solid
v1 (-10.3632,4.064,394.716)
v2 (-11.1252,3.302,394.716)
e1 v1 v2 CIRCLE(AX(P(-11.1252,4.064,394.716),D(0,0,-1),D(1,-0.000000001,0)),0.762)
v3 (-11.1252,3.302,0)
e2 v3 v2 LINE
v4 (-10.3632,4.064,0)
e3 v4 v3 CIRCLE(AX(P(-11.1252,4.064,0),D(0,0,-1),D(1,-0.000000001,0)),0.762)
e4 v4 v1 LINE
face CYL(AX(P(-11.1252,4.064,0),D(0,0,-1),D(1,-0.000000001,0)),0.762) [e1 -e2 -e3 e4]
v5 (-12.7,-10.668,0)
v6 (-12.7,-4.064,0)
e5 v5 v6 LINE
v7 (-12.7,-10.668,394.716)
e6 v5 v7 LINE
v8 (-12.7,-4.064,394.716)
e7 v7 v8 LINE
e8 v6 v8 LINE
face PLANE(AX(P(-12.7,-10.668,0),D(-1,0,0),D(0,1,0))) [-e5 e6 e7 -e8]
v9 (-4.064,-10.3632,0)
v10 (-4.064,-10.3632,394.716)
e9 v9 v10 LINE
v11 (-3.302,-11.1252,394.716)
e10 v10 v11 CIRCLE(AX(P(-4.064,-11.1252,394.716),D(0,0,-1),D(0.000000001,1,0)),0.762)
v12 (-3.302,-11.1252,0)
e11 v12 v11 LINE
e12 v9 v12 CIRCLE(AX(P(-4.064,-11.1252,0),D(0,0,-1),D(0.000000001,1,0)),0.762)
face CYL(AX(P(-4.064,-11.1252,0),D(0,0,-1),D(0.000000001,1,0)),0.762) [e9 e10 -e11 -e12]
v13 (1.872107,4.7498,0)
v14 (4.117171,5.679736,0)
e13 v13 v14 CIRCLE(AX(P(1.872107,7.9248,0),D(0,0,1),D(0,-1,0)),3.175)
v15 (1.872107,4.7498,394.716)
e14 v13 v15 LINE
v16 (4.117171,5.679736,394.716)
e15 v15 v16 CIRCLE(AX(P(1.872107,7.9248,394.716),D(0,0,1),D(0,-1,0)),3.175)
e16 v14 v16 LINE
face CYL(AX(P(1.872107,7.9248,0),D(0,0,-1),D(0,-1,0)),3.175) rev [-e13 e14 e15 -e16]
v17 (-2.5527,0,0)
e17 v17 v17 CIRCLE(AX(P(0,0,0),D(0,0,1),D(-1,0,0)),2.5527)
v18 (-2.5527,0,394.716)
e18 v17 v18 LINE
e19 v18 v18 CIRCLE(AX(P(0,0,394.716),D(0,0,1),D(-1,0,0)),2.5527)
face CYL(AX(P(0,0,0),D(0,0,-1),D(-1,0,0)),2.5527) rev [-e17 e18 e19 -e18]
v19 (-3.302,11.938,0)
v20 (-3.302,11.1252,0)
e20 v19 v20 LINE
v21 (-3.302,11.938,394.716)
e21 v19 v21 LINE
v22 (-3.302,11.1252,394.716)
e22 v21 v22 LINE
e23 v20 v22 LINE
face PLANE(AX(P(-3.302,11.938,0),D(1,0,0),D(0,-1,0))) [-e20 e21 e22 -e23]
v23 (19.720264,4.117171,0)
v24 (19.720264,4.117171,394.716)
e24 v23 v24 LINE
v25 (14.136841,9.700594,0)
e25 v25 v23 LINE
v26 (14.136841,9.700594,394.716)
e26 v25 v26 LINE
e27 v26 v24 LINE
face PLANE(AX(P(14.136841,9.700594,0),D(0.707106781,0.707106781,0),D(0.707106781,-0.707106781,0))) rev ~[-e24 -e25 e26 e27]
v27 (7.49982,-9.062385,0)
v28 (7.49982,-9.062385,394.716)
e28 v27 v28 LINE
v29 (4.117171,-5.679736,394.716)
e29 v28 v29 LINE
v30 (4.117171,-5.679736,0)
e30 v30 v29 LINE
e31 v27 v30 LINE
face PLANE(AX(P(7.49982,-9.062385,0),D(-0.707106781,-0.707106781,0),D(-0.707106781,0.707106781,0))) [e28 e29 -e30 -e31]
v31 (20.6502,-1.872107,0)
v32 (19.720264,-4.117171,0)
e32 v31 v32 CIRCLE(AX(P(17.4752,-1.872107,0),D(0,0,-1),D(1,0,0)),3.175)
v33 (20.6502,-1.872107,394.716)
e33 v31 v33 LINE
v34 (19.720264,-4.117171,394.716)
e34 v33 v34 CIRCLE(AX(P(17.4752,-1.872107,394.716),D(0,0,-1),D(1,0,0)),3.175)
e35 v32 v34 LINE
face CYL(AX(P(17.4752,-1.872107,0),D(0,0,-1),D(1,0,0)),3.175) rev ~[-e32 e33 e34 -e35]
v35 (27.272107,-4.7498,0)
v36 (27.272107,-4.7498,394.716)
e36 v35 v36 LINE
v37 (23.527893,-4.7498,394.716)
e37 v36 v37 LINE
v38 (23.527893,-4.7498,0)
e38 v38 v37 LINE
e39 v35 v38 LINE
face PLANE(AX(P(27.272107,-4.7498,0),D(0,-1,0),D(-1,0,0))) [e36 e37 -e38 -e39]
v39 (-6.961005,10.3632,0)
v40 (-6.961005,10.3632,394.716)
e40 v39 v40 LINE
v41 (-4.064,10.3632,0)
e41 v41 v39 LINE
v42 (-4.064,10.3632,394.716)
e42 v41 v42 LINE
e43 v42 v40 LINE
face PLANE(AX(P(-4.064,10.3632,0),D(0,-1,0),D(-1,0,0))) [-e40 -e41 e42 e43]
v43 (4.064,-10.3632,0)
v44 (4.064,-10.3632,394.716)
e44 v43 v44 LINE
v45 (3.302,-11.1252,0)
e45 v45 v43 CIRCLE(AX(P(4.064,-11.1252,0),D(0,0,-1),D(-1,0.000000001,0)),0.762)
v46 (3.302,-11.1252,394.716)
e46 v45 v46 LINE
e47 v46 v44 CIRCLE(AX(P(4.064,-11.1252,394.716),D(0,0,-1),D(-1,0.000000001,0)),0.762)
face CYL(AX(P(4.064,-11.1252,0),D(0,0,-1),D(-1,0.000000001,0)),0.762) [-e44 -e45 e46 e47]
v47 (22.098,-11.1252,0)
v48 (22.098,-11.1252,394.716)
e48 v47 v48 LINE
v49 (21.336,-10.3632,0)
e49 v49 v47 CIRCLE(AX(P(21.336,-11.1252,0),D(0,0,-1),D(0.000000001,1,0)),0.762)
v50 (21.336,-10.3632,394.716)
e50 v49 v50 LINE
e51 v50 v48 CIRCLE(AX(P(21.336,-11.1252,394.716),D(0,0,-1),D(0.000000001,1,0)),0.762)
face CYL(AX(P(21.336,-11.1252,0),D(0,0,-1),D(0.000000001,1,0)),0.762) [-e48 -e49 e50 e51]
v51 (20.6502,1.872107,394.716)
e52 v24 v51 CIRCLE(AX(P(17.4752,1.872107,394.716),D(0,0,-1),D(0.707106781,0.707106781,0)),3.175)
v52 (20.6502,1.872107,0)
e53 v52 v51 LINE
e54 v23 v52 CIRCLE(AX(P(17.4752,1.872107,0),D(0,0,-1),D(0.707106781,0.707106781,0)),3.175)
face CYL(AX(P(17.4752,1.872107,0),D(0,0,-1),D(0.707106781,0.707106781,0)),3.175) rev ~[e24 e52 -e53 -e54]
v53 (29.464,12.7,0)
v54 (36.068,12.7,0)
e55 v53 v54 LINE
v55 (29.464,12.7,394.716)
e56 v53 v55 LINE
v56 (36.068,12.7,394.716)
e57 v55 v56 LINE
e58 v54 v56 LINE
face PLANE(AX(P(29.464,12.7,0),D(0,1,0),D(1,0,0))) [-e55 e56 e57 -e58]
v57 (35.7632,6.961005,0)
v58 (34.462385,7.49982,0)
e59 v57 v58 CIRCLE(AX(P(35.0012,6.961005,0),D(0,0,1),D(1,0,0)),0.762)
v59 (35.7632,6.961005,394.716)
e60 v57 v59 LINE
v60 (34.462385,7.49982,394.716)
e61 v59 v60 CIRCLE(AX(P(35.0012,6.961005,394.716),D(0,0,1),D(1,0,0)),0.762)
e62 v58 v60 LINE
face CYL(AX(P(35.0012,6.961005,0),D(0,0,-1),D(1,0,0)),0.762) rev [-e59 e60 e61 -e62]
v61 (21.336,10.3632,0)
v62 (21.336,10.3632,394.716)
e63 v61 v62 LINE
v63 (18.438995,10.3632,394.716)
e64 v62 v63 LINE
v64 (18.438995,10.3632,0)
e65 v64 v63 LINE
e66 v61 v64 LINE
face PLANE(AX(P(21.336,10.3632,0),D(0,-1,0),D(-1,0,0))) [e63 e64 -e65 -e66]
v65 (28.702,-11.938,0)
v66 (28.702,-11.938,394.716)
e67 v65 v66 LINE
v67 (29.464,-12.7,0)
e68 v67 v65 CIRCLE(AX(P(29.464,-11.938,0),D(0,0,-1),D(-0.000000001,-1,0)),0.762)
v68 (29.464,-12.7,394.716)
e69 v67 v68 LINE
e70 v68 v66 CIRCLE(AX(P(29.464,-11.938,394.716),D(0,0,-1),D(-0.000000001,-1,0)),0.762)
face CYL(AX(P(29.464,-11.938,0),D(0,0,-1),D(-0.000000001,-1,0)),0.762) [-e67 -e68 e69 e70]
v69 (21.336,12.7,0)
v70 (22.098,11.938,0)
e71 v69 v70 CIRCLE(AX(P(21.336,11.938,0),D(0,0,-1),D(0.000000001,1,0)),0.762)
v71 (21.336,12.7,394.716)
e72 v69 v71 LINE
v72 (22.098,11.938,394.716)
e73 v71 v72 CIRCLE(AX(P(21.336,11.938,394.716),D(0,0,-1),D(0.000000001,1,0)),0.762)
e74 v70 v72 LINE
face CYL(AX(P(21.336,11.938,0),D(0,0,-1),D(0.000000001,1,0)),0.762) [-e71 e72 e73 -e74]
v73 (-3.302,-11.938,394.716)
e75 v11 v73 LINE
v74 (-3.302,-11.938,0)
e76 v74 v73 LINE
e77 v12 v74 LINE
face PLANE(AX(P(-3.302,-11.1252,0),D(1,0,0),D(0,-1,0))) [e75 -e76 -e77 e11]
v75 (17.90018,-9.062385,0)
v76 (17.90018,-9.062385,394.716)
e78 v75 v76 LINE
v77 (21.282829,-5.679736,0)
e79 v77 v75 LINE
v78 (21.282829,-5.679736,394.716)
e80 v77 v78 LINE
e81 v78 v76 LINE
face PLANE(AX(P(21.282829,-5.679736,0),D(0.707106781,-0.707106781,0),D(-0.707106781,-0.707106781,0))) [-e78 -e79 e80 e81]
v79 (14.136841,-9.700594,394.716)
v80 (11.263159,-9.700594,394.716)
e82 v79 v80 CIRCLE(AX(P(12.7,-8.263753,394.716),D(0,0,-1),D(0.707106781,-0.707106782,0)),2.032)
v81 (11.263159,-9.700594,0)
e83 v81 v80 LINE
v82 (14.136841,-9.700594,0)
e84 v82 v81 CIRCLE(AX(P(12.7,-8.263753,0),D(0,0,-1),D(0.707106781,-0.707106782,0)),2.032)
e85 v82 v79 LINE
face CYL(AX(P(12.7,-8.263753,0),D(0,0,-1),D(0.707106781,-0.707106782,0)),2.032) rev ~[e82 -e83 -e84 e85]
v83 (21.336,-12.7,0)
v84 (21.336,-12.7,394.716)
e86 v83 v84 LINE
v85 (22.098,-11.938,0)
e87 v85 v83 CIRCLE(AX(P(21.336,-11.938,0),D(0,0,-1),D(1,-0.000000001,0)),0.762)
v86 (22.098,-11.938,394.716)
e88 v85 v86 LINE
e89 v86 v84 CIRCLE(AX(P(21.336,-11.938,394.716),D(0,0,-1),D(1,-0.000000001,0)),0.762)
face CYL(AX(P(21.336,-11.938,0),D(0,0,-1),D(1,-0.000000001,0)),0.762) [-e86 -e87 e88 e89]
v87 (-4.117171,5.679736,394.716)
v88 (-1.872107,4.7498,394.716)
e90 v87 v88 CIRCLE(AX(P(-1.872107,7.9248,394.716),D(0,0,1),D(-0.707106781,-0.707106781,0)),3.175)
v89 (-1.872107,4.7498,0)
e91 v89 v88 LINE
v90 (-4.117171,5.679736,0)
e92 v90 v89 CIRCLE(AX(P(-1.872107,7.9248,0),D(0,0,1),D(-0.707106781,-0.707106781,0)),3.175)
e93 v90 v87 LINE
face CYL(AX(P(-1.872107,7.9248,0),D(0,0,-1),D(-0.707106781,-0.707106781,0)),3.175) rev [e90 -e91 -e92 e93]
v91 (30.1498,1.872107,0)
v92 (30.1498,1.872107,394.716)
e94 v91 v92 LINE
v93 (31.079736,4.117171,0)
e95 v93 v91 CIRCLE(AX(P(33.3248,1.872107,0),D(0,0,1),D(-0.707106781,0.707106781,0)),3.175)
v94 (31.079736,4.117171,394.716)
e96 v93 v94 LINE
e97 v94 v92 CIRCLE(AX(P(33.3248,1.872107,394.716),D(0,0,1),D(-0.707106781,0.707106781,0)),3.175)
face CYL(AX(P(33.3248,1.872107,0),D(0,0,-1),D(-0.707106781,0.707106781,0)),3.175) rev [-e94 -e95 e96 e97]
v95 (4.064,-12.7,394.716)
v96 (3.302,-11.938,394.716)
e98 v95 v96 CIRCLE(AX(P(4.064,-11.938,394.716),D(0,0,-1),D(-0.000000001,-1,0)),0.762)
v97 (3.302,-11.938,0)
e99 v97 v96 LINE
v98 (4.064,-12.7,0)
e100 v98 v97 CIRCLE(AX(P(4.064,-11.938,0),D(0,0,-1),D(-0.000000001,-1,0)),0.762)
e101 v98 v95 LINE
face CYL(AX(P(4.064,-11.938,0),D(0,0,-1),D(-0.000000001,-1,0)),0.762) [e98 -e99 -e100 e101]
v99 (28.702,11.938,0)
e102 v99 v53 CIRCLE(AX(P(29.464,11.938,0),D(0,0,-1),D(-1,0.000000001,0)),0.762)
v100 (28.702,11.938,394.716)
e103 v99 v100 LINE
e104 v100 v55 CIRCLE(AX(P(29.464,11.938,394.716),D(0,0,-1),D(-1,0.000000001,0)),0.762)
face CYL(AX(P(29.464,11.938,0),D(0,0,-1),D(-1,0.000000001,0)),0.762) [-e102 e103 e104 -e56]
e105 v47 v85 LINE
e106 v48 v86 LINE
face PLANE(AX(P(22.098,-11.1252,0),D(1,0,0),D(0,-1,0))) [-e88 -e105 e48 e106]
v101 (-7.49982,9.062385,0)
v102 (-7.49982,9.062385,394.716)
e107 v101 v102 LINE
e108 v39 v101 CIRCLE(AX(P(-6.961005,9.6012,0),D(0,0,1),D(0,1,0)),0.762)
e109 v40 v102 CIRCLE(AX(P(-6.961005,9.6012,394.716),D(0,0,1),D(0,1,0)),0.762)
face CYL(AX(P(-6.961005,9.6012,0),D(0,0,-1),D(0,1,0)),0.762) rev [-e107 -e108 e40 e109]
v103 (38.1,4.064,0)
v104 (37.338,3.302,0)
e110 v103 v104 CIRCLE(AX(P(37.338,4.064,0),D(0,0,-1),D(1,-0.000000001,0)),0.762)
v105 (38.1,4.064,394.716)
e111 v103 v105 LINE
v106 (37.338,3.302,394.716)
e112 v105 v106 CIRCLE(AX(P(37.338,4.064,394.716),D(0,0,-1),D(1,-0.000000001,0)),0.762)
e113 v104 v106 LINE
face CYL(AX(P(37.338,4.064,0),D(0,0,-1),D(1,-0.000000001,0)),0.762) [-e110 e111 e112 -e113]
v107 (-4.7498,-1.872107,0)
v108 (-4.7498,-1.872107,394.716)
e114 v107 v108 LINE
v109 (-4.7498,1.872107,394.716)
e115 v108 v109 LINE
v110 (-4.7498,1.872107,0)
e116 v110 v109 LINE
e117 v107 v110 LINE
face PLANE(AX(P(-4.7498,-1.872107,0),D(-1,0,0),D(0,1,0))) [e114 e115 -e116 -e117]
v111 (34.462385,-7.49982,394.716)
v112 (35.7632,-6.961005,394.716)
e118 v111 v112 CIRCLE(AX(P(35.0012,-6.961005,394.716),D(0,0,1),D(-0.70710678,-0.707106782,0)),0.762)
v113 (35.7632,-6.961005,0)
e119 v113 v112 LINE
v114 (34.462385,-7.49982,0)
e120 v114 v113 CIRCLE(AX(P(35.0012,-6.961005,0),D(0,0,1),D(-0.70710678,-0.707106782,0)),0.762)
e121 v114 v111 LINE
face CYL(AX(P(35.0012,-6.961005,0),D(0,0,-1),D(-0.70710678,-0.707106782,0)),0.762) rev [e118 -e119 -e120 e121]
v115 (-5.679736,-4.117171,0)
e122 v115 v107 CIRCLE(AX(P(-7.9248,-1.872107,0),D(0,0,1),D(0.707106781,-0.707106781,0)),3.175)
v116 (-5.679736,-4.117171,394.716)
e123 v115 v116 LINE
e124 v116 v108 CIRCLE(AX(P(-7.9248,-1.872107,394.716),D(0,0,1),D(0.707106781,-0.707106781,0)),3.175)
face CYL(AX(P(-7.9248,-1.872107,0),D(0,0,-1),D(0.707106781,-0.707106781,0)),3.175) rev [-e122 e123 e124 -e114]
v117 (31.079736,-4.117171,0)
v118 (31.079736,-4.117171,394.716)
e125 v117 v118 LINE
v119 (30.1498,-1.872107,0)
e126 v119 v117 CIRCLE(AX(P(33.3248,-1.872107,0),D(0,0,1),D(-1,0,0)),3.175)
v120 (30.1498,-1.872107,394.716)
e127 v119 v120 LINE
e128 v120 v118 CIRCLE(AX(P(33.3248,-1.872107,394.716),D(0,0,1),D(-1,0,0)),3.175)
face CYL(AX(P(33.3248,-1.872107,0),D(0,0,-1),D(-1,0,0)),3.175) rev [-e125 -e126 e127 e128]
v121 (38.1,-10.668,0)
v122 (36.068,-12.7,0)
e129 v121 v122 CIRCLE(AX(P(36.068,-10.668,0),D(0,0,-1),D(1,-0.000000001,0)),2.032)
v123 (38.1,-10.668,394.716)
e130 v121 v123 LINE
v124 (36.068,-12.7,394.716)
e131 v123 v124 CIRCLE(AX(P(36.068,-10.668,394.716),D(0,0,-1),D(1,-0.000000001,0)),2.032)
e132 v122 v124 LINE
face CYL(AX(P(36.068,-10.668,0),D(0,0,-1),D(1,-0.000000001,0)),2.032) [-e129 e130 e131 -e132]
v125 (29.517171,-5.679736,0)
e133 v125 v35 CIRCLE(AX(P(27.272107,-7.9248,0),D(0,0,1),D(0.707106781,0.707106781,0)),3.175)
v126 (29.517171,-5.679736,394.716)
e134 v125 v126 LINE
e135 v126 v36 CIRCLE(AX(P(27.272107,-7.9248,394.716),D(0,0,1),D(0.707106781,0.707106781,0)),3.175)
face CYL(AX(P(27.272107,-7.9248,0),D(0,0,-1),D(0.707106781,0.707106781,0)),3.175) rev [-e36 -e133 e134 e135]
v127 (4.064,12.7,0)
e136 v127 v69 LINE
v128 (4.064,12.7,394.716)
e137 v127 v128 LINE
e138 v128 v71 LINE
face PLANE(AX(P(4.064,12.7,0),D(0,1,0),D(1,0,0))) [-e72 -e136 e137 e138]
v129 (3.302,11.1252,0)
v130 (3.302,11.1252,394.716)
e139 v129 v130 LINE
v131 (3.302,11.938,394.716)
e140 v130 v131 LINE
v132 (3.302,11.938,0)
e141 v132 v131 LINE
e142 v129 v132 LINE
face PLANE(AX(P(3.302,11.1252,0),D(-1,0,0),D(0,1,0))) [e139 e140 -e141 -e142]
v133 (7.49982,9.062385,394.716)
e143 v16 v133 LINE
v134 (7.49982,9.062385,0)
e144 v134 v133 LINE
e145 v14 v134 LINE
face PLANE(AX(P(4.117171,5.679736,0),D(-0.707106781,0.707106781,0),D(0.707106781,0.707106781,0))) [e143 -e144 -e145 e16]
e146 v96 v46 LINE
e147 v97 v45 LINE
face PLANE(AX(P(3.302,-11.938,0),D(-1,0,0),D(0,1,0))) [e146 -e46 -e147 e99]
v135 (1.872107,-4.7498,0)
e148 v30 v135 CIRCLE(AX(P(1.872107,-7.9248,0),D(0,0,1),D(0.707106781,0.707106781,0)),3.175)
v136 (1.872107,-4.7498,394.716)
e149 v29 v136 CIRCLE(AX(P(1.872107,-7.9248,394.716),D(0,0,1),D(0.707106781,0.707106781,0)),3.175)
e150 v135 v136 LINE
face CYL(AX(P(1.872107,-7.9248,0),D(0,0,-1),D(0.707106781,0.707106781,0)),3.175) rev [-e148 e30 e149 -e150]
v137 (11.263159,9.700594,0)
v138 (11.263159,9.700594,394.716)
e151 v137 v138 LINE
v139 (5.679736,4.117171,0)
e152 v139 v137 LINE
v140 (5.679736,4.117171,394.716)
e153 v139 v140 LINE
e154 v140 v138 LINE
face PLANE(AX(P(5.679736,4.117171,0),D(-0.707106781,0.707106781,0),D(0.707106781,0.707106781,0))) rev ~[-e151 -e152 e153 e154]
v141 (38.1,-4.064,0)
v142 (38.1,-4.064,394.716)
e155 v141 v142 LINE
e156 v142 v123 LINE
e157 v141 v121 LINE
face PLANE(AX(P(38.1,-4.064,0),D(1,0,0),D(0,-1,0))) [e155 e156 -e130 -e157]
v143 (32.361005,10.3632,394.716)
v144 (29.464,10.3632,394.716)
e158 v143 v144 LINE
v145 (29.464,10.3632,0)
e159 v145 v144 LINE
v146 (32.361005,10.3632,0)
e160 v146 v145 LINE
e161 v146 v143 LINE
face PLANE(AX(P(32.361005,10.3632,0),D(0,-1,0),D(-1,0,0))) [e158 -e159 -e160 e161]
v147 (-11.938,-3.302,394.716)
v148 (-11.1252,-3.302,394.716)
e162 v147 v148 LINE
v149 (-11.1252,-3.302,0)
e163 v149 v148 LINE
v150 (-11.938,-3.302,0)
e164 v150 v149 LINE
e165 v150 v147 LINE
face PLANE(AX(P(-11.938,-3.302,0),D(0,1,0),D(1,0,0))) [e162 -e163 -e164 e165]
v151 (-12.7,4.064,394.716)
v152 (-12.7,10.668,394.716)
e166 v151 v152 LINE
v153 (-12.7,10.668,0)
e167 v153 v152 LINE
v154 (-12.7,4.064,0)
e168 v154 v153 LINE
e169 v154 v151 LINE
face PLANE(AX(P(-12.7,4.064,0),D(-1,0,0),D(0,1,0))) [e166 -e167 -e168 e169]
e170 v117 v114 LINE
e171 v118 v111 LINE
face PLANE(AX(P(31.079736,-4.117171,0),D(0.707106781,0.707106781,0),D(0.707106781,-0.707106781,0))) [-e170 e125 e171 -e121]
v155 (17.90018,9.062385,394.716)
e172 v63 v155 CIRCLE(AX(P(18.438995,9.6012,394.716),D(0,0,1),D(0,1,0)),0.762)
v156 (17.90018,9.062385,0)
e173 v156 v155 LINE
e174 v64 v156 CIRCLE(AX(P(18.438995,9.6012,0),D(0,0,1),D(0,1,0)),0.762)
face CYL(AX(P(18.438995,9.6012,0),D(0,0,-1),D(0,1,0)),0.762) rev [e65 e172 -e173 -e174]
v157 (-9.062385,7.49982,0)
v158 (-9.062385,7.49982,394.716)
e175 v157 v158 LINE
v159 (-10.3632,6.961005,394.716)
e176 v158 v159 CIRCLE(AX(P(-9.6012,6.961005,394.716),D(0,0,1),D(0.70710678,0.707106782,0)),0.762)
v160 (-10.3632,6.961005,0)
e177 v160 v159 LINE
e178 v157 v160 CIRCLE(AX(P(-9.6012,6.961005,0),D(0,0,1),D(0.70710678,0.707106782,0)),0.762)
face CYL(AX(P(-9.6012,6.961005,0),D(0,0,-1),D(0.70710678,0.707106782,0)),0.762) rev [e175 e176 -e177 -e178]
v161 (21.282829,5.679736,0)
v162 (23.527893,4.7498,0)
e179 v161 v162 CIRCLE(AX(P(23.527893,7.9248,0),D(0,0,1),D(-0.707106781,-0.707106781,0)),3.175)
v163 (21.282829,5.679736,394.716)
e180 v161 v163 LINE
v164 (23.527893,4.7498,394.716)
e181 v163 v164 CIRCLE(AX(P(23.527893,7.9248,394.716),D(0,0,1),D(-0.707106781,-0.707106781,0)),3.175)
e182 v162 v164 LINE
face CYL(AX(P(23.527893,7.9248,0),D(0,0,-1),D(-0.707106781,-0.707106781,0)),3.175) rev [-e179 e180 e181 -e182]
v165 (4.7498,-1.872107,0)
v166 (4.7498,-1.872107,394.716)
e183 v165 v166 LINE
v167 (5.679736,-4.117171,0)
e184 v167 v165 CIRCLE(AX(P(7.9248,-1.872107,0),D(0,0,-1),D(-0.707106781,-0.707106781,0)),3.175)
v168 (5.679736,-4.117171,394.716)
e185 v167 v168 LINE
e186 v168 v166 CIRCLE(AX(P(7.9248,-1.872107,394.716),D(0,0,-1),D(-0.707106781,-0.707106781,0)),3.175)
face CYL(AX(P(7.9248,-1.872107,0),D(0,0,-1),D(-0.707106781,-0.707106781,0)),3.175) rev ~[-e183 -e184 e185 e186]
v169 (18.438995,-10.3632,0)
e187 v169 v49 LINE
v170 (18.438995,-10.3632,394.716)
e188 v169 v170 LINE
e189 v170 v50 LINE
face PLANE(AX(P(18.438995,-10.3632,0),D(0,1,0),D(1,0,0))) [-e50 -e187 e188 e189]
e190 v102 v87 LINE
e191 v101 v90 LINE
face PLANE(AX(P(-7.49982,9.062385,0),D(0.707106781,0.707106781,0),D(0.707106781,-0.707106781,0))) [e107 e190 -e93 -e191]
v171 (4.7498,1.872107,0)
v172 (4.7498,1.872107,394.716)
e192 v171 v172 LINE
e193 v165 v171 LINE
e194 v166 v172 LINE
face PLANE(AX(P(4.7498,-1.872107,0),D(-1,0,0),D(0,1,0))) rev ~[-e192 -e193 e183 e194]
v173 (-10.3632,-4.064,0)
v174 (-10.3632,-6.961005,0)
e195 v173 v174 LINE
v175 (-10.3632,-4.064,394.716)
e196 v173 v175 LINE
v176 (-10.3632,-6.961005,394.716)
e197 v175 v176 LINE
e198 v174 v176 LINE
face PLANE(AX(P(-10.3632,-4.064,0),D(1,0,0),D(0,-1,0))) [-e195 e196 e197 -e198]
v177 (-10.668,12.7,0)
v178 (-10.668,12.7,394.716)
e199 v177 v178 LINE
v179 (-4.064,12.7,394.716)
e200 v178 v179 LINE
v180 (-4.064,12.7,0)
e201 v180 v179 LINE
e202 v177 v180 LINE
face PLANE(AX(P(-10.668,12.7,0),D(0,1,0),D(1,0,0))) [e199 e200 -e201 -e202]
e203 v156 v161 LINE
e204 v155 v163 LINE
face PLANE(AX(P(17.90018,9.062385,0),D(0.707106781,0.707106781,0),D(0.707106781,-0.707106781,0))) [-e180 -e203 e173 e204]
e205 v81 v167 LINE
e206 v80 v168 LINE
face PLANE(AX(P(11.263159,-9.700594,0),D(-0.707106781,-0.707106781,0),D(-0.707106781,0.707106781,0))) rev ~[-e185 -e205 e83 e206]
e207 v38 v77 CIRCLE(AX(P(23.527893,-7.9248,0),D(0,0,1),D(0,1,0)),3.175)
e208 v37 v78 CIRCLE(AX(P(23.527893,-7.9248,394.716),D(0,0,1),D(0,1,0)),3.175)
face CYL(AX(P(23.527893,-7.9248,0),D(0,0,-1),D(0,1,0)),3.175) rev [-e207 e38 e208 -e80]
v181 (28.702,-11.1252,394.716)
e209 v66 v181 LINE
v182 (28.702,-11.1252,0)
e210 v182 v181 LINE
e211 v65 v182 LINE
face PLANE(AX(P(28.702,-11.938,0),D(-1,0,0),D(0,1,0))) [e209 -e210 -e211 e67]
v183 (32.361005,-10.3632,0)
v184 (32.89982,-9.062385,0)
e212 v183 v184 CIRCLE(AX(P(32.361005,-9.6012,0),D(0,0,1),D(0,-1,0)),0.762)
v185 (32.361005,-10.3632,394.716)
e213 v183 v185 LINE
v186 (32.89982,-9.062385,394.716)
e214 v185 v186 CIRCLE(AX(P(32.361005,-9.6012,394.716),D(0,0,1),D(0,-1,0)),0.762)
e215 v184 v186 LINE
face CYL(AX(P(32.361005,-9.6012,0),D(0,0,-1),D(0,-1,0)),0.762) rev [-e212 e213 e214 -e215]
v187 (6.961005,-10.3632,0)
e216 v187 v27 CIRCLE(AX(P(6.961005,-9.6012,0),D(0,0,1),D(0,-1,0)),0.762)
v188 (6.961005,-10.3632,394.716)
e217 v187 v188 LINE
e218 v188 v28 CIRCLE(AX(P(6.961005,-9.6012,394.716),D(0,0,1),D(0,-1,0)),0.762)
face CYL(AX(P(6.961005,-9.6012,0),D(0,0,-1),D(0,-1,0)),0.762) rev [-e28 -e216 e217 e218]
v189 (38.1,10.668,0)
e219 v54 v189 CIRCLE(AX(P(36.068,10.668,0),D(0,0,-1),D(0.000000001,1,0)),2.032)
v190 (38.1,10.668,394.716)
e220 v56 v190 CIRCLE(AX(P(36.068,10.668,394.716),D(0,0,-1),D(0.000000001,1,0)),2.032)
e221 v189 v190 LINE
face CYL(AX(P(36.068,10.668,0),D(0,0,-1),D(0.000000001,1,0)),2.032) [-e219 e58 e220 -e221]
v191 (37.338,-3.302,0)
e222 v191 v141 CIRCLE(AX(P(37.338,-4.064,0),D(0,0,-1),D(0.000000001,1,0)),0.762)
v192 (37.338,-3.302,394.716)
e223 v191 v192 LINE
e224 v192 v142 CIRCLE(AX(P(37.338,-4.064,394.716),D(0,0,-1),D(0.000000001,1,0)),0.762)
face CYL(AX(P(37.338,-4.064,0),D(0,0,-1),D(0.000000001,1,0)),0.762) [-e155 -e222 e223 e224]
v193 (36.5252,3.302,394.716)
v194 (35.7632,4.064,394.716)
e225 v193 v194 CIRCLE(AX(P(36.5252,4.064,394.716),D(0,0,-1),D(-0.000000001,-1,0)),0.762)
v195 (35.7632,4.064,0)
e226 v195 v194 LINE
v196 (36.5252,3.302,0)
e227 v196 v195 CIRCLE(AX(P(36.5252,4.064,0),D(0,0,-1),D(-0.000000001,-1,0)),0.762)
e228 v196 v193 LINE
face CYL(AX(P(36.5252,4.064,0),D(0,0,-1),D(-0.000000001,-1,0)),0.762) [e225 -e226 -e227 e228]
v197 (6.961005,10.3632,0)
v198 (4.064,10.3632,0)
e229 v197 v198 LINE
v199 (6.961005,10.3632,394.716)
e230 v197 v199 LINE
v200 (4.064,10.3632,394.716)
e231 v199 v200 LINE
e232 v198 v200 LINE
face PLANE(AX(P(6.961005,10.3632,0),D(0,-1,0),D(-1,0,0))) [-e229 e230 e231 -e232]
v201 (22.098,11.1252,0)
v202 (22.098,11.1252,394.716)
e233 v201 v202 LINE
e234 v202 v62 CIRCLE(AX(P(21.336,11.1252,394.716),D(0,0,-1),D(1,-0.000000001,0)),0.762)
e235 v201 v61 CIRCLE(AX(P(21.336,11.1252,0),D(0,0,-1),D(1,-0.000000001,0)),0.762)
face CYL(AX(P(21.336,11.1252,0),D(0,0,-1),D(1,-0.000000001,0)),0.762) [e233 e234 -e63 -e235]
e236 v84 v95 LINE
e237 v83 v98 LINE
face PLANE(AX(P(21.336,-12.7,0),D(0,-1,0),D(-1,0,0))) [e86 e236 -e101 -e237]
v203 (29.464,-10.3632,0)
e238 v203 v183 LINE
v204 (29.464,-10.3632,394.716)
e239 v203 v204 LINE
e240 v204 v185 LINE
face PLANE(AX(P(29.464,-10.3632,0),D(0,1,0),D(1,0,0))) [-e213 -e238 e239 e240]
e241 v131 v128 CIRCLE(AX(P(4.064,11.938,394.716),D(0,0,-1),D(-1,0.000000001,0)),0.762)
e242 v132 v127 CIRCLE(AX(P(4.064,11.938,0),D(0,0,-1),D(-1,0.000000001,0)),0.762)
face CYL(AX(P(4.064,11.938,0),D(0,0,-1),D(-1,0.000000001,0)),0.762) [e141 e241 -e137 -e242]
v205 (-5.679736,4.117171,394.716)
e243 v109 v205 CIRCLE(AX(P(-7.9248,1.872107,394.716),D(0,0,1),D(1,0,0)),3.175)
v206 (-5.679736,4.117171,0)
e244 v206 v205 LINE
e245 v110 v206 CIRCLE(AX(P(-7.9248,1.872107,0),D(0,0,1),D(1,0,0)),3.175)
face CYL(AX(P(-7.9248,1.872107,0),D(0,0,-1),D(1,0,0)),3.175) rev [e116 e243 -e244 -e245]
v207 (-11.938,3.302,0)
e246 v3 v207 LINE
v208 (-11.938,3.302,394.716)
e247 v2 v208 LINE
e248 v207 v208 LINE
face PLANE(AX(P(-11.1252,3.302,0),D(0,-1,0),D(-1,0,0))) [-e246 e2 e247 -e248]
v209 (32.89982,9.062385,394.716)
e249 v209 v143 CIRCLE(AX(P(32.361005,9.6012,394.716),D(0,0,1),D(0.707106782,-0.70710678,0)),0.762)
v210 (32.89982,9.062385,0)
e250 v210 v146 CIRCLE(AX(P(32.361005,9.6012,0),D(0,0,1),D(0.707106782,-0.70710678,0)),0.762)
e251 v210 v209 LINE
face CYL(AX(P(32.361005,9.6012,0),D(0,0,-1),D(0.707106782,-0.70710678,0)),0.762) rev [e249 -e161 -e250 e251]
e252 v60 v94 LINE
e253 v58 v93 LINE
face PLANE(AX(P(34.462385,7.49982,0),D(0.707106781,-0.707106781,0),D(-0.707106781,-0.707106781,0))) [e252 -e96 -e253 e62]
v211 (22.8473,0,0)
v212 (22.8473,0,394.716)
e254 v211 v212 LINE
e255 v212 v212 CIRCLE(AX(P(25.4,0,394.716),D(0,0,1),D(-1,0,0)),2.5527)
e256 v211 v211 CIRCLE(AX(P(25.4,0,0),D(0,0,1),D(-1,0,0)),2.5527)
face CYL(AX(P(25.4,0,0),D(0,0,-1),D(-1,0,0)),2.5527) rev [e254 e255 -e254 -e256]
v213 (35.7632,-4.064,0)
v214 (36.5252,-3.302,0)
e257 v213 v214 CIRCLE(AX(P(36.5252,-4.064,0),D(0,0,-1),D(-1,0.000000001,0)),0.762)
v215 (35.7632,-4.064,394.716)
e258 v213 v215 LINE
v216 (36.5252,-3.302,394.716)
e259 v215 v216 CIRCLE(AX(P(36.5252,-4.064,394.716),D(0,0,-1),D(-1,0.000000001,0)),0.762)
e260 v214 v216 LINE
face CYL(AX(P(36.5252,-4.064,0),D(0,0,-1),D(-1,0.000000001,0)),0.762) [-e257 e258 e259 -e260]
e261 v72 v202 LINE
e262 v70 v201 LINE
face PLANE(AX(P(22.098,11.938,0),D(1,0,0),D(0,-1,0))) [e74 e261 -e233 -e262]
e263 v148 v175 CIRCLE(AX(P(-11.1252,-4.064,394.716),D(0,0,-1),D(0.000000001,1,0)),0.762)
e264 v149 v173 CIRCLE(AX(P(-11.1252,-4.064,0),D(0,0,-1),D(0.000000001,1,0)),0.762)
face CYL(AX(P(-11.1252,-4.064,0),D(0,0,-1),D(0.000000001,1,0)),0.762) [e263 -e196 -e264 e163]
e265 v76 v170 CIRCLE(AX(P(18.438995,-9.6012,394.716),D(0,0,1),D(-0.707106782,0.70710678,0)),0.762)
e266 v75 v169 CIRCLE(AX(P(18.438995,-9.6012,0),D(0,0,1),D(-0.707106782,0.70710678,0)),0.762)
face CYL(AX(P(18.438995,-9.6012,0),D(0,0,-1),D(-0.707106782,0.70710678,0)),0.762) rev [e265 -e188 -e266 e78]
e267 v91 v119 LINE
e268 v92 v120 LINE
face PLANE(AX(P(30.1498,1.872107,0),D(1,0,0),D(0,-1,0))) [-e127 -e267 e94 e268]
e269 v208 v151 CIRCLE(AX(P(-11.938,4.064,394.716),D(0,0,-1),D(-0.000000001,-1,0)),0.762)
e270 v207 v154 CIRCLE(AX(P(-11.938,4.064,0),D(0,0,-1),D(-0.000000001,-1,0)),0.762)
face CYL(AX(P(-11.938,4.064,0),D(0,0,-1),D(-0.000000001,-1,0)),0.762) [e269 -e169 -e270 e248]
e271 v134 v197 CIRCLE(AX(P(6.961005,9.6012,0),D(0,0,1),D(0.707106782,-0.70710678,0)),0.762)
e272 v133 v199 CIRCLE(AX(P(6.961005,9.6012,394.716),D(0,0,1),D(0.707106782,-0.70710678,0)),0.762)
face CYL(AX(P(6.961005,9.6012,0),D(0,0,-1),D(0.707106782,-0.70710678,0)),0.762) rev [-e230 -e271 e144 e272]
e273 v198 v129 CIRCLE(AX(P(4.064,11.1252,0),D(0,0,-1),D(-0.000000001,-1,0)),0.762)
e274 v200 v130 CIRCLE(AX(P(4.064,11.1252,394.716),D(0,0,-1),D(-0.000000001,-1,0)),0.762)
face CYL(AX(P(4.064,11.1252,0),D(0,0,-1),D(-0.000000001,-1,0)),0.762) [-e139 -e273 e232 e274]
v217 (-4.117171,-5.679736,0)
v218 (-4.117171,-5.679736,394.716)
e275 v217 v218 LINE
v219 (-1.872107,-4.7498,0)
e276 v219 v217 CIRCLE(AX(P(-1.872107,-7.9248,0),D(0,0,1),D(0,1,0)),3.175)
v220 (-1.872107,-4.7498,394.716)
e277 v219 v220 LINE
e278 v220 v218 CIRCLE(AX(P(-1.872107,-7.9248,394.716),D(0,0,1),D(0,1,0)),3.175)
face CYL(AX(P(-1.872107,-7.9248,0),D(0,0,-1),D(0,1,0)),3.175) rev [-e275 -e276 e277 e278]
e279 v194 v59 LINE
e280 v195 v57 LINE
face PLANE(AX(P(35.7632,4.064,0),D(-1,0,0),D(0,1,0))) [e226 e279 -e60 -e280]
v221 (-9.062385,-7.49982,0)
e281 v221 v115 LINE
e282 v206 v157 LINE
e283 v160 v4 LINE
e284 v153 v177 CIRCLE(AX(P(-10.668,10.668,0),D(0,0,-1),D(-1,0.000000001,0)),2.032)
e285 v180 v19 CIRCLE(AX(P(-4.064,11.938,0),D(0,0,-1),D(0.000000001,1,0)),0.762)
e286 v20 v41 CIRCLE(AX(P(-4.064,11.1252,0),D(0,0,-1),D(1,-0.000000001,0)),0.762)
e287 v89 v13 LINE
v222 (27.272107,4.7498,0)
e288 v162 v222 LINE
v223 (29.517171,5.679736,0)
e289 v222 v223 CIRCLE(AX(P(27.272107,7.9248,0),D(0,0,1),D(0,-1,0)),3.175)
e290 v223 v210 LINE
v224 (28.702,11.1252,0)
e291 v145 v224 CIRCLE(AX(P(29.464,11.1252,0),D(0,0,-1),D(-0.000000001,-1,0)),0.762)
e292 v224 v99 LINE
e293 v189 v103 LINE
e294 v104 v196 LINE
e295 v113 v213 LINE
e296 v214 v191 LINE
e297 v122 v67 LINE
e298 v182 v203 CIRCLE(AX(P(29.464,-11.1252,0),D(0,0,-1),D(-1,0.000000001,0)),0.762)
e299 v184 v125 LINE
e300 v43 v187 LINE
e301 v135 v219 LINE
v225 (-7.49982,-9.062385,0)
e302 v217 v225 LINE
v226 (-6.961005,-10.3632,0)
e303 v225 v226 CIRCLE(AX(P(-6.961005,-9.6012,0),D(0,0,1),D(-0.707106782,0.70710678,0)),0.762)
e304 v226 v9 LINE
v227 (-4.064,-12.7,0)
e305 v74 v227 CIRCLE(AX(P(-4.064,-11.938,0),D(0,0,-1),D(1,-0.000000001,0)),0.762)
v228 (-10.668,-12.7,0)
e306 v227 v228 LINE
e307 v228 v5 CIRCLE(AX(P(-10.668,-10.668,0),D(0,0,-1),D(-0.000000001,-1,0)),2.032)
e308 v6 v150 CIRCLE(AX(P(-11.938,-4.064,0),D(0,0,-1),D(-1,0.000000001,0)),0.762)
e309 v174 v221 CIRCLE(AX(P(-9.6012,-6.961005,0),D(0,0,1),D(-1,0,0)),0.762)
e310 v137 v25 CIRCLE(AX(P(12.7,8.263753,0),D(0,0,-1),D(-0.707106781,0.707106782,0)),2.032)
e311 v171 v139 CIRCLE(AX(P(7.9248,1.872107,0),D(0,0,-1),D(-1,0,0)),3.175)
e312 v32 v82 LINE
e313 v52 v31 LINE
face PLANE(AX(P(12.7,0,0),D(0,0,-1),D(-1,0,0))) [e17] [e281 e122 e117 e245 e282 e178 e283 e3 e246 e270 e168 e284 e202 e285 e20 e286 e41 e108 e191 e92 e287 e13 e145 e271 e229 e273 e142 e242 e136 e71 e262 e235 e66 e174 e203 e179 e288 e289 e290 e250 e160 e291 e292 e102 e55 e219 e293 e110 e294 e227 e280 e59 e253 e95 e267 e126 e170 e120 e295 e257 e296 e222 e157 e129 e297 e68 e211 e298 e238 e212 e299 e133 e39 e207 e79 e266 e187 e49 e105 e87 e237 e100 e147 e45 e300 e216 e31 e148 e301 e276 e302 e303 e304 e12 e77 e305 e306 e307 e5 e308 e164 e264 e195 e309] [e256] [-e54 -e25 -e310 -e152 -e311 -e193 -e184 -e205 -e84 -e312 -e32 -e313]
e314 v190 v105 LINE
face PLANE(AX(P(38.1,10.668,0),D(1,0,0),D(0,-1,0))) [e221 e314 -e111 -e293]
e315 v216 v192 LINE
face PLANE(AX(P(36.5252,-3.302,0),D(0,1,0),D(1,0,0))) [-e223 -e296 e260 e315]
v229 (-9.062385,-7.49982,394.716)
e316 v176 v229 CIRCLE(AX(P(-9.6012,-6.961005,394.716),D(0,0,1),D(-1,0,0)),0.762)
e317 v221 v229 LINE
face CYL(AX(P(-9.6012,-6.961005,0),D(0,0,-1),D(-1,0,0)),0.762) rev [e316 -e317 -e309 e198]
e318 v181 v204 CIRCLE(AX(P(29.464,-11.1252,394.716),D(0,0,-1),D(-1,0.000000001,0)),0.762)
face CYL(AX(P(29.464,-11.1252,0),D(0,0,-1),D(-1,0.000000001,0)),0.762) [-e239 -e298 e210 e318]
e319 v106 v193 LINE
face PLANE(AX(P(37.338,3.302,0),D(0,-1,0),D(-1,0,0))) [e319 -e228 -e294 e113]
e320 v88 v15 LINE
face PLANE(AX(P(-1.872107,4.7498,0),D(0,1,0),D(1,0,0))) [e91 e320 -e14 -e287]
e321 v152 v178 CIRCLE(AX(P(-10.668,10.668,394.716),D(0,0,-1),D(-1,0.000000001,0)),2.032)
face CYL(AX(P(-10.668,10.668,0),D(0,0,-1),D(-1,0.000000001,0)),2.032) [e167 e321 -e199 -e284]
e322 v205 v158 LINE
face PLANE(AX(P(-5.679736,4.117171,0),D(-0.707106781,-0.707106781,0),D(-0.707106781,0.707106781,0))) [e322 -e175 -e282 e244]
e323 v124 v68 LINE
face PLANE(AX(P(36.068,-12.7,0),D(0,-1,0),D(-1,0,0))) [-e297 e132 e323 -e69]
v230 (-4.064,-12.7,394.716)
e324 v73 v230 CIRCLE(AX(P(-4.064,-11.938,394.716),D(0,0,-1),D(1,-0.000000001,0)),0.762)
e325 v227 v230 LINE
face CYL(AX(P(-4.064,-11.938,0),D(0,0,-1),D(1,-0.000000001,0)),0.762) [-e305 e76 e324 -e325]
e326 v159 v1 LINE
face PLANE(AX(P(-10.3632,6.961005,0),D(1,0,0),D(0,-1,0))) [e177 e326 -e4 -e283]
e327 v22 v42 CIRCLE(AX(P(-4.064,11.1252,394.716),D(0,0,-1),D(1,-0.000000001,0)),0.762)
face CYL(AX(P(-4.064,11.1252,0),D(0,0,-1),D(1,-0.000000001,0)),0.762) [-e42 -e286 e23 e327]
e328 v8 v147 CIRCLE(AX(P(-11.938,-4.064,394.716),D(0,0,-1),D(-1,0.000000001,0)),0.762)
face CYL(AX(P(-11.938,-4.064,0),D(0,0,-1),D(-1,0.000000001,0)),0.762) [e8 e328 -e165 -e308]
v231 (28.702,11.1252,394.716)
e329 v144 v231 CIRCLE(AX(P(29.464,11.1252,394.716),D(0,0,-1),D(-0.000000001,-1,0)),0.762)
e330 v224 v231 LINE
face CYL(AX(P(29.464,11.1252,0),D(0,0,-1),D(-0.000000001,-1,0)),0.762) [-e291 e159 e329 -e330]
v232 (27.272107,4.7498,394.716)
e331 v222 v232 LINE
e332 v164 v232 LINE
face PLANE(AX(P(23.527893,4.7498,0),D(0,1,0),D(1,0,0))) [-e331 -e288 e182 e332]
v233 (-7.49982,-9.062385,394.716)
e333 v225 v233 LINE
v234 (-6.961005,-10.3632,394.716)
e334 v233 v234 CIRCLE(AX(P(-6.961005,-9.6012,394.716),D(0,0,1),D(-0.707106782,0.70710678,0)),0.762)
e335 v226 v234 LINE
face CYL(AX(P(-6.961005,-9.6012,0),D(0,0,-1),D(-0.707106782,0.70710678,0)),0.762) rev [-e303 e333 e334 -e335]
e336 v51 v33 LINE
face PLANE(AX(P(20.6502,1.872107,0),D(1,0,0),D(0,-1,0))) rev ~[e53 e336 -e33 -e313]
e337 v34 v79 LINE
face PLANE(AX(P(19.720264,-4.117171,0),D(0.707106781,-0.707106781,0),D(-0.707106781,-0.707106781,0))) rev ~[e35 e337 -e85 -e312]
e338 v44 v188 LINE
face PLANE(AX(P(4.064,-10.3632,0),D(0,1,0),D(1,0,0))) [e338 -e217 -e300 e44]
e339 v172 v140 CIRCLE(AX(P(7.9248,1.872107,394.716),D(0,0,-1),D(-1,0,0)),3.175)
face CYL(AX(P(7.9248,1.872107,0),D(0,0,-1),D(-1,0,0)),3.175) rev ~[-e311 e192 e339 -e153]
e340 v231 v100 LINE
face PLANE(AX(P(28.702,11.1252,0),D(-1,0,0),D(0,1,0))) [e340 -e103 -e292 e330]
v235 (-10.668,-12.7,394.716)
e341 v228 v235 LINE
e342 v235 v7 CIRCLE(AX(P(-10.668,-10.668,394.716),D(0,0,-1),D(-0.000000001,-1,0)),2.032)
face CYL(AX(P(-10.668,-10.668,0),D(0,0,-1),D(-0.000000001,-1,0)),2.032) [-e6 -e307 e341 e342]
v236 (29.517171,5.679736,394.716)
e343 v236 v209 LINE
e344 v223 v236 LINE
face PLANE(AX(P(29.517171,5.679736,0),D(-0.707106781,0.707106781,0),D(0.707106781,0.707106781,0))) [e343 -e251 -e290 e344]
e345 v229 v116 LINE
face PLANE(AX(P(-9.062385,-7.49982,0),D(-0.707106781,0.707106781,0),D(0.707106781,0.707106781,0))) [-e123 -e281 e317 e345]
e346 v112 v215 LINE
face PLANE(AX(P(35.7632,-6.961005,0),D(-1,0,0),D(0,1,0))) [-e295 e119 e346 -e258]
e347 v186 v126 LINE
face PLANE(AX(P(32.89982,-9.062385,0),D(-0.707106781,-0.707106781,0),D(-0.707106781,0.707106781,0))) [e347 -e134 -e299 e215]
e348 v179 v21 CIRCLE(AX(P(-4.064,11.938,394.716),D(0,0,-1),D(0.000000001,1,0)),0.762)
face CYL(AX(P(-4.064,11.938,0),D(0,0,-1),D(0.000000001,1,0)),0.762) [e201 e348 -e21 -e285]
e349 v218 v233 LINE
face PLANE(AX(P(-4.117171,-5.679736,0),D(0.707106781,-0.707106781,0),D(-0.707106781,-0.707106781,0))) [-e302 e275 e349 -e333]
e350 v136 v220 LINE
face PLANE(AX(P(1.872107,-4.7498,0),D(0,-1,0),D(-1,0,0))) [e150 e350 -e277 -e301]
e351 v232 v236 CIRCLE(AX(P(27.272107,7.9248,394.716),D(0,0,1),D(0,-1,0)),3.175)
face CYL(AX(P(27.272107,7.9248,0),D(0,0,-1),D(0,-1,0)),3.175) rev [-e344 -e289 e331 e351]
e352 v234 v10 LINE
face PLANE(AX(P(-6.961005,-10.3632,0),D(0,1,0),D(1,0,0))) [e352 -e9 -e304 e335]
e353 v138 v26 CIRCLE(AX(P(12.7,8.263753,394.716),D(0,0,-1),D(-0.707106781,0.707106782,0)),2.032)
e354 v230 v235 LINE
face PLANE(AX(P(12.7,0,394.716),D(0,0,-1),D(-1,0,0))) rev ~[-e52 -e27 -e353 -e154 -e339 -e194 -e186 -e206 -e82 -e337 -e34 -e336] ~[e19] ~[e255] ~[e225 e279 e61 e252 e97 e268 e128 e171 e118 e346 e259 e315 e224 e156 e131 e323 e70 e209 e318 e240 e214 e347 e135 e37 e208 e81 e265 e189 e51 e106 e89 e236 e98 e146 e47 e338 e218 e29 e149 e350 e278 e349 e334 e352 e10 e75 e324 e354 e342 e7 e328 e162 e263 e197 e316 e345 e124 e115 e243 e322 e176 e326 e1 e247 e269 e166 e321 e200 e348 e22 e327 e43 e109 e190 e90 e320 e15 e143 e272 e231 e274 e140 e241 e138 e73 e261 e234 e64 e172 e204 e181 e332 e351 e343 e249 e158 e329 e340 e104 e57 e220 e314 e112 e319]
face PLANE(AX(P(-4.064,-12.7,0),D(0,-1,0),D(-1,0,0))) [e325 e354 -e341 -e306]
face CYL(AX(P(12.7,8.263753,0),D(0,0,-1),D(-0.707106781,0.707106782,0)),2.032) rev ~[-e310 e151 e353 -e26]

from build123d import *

# Parameters (mm, degrees)
SKETCH1_R           = 2.5527
BOSS_EXTRUDE1_DEPTH = 394.716


with BuildPart() as part:
    # Sketch1 → Boss-Extrude1 (new body)
    with BuildSketch(Plane.XY):
        with BuildLine():
            Line((-7.499820068, 9.062384633), (-4.117171405, 5.67973597))
            ThreePointArc((-4.117171405, 5.67973597), (-3.087127272, 4.991482484), (-1.872107374, 4.7498))
            Line((-1.872107374, 4.7498), (1.872107374, 4.7498))
            ThreePointArc((1.872107374, 4.7498), (3.087127272, 4.991482484), (4.117171405, 5.67973597))
            Line((4.117171405, 5.67973597), (7.499820068, 9.062384633))
            ThreePointArc((7.499820068, 9.062384633), (7.665000904, 9.892804775), (6.9610047, 10.3632))
            Line((6.9610047, 10.3632), (4.064, 10.3632))
            ThreePointArc((4.064, 10.3632), (3.525184633, 10.586384633), (3.302, 11.1252))
            Line((3.302, 11.1252), (3.302, 11.938))
            ThreePointArc((3.302, 11.938), (3.525184633, 12.476815367), (4.064, 12.7))
            Line((4.064, 12.7), (10.668, 12.7))
            Line((10.668, 12.7), (14.732, 12.7))
            Line((14.732, 12.7), (21.336, 12.7))
            ThreePointArc((21.336, 12.7), (21.874815367, 12.476815367), (22.098, 11.938))
            Line((22.098, 11.938), (22.098, 11.1252))
            ThreePointArc((22.098, 11.1252), (21.874815367, 10.586384633), (21.336, 10.3632))
            Line((21.336, 10.3632), (18.4389953, 10.3632))
            ThreePointArc((18.4389953, 10.3632), (17.734999096, 9.892804775), (17.900179932, 9.062384633))
            Line((17.900179932, 9.062384633), (21.282828595, 5.67973597))
            ThreePointArc((21.282828595, 5.67973597), (22.312872728, 4.991482484), (23.527892626, 4.7498))
            Line((23.527892626, 4.7498), (27.272107374, 4.7498))
            ThreePointArc((27.272107374, 4.7498), (28.487127272, 4.991482484), (29.517171405, 5.67973597))
            Line((29.517171405, 5.67973597), (32.899820068, 9.062384633))
            ThreePointArc((32.899820068, 9.062384633), (33.065000904, 9.892804775), (32.3610047, 10.3632))
            Line((32.3610047, 10.3632), (29.464, 10.3632))
            ThreePointArc((29.464, 10.3632), (28.925184633, 10.586384633), (28.702, 11.1252))
            Line((28.702, 11.1252), (28.702, 11.938))
            ThreePointArc((28.702, 11.938), (28.925184633, 12.476815367), (29.464, 12.7))
            Line((29.464, 12.7), (36.068, 12.7))
            ThreePointArc((36.068, 12.7), (37.504840979, 12.104840979), (38.1, 10.668))
            Line((38.1, 10.668), (38.1, 4.064))
            ThreePointArc((38.1, 4.064), (37.876815367, 3.525184633), (37.338, 3.302))
            Line((37.338, 3.302), (36.5252, 3.302))
            ThreePointArc((36.5252, 3.302), (35.986384633, 3.525184633), (35.7632, 4.064))
            Line((35.7632, 4.064), (35.7632, 6.9610047))
            ThreePointArc((35.7632, 6.9610047), (35.292804775, 7.665000904), (34.462384633, 7.499820068))
            Line((34.462384633, 7.499820068), (31.07973597, 4.117171405))
            ThreePointArc((31.07973597, 4.117171405), (30.391482484, 3.087127272), (30.1498, 1.872107374))
            Line((30.1498, 1.872107374), (30.1498, -1.872107374))
            ThreePointArc((30.1498, -1.872107374), (30.391482484, -3.087127272), (31.07973597, -4.117171405))
            Line((31.07973597, -4.117171405), (34.462384633, -7.499820068))
            ThreePointArc((34.462384633, -7.499820068), (35.292804775, -7.665000904), (35.7632, -6.9610047))
            Line((35.7632, -6.9610047), (35.7632, -4.064))
            ThreePointArc((35.7632, -4.064), (35.986384633, -3.525184633), (36.5252, -3.302))
            Line((36.5252, -3.302), (37.338, -3.302))
            ThreePointArc((37.338, -3.302), (37.876815367, -3.525184633), (38.1, -4.064))
            Line((38.1, -4.064), (38.1, -10.668))
            ThreePointArc((38.1, -10.668), (37.504840979, -12.104840979), (36.068, -12.7))
            Line((36.068, -12.7), (29.464, -12.7))
            ThreePointArc((29.464, -12.7), (28.925184633, -12.476815367), (28.702, -11.938))
            Line((28.702, -11.938), (28.702, -11.1252))
            ThreePointArc((28.702, -11.1252), (28.925184633, -10.586384633), (29.464, -10.3632))
            Line((29.464, -10.3632), (32.3610047, -10.3632))
            ThreePointArc((32.3610047, -10.3632), (33.065000904, -9.892804775), (32.899820068, -9.062384633))
            Line((32.899820068, -9.062384633), (29.517171405, -5.67973597))
            ThreePointArc((29.517171405, -5.67973597), (28.487127272, -4.991482484), (27.272107374, -4.7498))
            Line((27.272107374, -4.7498), (23.527892626, -4.7498))
            ThreePointArc((23.527892626, -4.7498), (22.312872728, -4.991482484), (21.282828595, -5.67973597))
            Line((21.282828595, -5.67973597), (17.900179932, -9.062384633))
            ThreePointArc((17.900179932, -9.062384633), (17.734999096, -9.892804775), (18.4389953, -10.3632))
            Line((18.4389953, -10.3632), (21.336, -10.3632))
            ThreePointArc((21.336, -10.3632), (21.874815367, -10.586384633), (22.098, -11.1252))
            Line((22.098, -11.1252), (22.098, -11.938))
            ThreePointArc((22.098, -11.938), (21.874815367, -12.476815367), (21.336, -12.7))
            Line((21.336, -12.7), (14.732, -12.7))
            Line((14.732, -12.7), (10.668, -12.7))
            Line((10.668, -12.7), (4.064, -12.7))
            ThreePointArc((4.064, -12.7), (3.525184633, -12.476815367), (3.302, -11.938))
            Line((3.302, -11.938), (3.302, -11.1252))
            ThreePointArc((3.302, -11.1252), (3.525184633, -10.586384633), (4.064, -10.3632))
            Line((4.064, -10.3632), (6.9610047, -10.3632))
            ThreePointArc((6.9610047, -10.3632), (7.665000904, -9.892804775), (7.499820068, -9.062384633))
            Line((7.499820068, -9.062384633), (4.117171405, -5.67973597))
            ThreePointArc((4.117171405, -5.67973597), (3.087127272, -4.991482484), (1.872107374, -4.7498))
            Line((1.872107374, -4.7498), (-1.872107374, -4.7498))
            ThreePointArc((-1.872107374, -4.7498), (-3.087127272, -4.991482484), (-4.117171405, -5.67973597))
            Line((-4.117171405, -5.67973597), (-7.499820068, -9.062384633))
            ThreePointArc((-7.499820068, -9.062384633), (-7.665000904, -9.892804775), (-6.9610047, -10.3632))
            Line((-6.9610047, -10.3632), (-4.064, -10.3632))
            ThreePointArc((-4.064, -10.3632), (-3.525184633, -10.586384633), (-3.302, -11.1252))
            Line((-3.302, -11.1252), (-3.302, -11.938))
            ThreePointArc((-3.302, -11.938), (-3.525184633, -12.476815367), (-4.064, -12.7))
            Line((-4.064, -12.7), (-10.668, -12.7))
            ThreePointArc((-10.668, -12.7), (-12.104840979, -12.104840979), (-12.7, -10.668))
            Line((-12.7, -10.668), (-12.7, -4.064))
            ThreePointArc((-12.7, -4.064), (-12.476815367, -3.525184633), (-11.938, -3.302))
            Line((-11.938, -3.302), (-11.1252, -3.302))
            ThreePointArc((-11.1252, -3.302), (-10.586384633, -3.525184633), (-10.3632, -4.064))
            Line((-10.3632, -4.064), (-10.3632, -6.9610047))
            ThreePointArc((-10.3632, -6.9610047), (-9.892804775, -7.665000904), (-9.062384633, -7.499820068))
            Line((-9.062384633, -7.499820068), (-5.67973597, -4.117171405))
            ThreePointArc((-5.67973597, -4.117171405), (-4.991482484, -3.087127272), (-4.7498, -1.872107374))
            Line((-4.7498, -1.872107374), (-4.7498, 1.872107374))
            ThreePointArc((-4.7498, 1.872107374), (-4.991482484, 3.087127272), (-5.67973597, 4.117171405))
            Line((-5.67973597, 4.117171405), (-9.062384633, 7.499820068))
            ThreePointArc((-9.062384633, 7.499820068), (-9.892804775, 7.665000904), (-10.3632, 6.9610047))
            Line((-10.3632, 6.9610047), (-10.3632, 4.064))
            ThreePointArc((-10.3632, 4.064), (-10.586384633, 3.525184633), (-11.1252, 3.302))
            Line((-11.1252, 3.302), (-11.938, 3.302))
            ThreePointArc((-11.938, 3.302), (-12.476815367, 3.525184633), (-12.7, 4.064))
            Line((-12.7, 4.064), (-12.7, 10.668))
            ThreePointArc((-12.7, 10.668), (-12.104840979, 12.104840979), (-10.668, 12.7))
            Line((-10.668, 12.7), (-4.064, 12.7))
            ThreePointArc((-4.064, 12.7), (-3.525184633, 12.476815367), (-3.302, 11.938))
            Line((-3.302, 11.938), (-3.302, 11.1252))
            ThreePointArc((-3.302, 11.1252), (-3.525184633, 10.586384633), (-4.064, 10.3632))
            Line((-4.064, 10.3632), (-6.9610047, 10.3632))
            ThreePointArc((-6.9610047, 10.3632), (-7.665000904, 9.892804775), (-7.499820068, 9.062384633))
        make_face()
        with Locations(Location((0, 0, 0), (0, 0, 180))):
            Circle(SKETCH1_R, mode=Mode.SUBTRACT)
        with Locations(Location((25.4, 0, 0), (0, 0, 180))):
            Circle(SKETCH1_R, mode=Mode.SUBTRACT)
        with BuildLine():
            Line((4.7498, -1.872107374), (4.7498, 1.872107374))
            ThreePointArc((4.7498, 1.872107374), (4.991482484, 3.087127272), (5.67973597, 4.117171405))
            Line((5.67973597, 4.117171405), (11.263159021, 9.700594456))
            ThreePointArc((11.263159021, 9.700594456), (12.7, 10.295753476), (14.136840979, 9.700594456))
            Line((14.136840979, 9.700594456), (19.72026403, 4.117171405))
            ThreePointArc((19.72026403, 4.117171405), (20.408517516, 3.087127272), (20.6502, 1.872107374))
            Line((20.6502, 1.872107374), (20.6502, -1.872107374))
            ThreePointArc((20.6502, -1.872107374), (20.408517516, -3.087127272), (19.72026403, -4.117171405))
            Line((19.72026403, -4.117171405), (14.136840979, -9.700594456))
            ThreePointArc((14.136840979, -9.700594456), (12.7, -10.295753476), (11.263159021, -9.700594456))
            Line((11.263159021, -9.700594456), (5.67973597, -4.117171405))
            ThreePointArc((5.67973597, -4.117171405), (4.991482484, -3.087127272), (4.7498, -1.872107374))
        make_face(mode=Mode.SUBTRACT)
    extrude(amount=BOSS_EXTRUDE1_DEPTH)


solid = part.part
